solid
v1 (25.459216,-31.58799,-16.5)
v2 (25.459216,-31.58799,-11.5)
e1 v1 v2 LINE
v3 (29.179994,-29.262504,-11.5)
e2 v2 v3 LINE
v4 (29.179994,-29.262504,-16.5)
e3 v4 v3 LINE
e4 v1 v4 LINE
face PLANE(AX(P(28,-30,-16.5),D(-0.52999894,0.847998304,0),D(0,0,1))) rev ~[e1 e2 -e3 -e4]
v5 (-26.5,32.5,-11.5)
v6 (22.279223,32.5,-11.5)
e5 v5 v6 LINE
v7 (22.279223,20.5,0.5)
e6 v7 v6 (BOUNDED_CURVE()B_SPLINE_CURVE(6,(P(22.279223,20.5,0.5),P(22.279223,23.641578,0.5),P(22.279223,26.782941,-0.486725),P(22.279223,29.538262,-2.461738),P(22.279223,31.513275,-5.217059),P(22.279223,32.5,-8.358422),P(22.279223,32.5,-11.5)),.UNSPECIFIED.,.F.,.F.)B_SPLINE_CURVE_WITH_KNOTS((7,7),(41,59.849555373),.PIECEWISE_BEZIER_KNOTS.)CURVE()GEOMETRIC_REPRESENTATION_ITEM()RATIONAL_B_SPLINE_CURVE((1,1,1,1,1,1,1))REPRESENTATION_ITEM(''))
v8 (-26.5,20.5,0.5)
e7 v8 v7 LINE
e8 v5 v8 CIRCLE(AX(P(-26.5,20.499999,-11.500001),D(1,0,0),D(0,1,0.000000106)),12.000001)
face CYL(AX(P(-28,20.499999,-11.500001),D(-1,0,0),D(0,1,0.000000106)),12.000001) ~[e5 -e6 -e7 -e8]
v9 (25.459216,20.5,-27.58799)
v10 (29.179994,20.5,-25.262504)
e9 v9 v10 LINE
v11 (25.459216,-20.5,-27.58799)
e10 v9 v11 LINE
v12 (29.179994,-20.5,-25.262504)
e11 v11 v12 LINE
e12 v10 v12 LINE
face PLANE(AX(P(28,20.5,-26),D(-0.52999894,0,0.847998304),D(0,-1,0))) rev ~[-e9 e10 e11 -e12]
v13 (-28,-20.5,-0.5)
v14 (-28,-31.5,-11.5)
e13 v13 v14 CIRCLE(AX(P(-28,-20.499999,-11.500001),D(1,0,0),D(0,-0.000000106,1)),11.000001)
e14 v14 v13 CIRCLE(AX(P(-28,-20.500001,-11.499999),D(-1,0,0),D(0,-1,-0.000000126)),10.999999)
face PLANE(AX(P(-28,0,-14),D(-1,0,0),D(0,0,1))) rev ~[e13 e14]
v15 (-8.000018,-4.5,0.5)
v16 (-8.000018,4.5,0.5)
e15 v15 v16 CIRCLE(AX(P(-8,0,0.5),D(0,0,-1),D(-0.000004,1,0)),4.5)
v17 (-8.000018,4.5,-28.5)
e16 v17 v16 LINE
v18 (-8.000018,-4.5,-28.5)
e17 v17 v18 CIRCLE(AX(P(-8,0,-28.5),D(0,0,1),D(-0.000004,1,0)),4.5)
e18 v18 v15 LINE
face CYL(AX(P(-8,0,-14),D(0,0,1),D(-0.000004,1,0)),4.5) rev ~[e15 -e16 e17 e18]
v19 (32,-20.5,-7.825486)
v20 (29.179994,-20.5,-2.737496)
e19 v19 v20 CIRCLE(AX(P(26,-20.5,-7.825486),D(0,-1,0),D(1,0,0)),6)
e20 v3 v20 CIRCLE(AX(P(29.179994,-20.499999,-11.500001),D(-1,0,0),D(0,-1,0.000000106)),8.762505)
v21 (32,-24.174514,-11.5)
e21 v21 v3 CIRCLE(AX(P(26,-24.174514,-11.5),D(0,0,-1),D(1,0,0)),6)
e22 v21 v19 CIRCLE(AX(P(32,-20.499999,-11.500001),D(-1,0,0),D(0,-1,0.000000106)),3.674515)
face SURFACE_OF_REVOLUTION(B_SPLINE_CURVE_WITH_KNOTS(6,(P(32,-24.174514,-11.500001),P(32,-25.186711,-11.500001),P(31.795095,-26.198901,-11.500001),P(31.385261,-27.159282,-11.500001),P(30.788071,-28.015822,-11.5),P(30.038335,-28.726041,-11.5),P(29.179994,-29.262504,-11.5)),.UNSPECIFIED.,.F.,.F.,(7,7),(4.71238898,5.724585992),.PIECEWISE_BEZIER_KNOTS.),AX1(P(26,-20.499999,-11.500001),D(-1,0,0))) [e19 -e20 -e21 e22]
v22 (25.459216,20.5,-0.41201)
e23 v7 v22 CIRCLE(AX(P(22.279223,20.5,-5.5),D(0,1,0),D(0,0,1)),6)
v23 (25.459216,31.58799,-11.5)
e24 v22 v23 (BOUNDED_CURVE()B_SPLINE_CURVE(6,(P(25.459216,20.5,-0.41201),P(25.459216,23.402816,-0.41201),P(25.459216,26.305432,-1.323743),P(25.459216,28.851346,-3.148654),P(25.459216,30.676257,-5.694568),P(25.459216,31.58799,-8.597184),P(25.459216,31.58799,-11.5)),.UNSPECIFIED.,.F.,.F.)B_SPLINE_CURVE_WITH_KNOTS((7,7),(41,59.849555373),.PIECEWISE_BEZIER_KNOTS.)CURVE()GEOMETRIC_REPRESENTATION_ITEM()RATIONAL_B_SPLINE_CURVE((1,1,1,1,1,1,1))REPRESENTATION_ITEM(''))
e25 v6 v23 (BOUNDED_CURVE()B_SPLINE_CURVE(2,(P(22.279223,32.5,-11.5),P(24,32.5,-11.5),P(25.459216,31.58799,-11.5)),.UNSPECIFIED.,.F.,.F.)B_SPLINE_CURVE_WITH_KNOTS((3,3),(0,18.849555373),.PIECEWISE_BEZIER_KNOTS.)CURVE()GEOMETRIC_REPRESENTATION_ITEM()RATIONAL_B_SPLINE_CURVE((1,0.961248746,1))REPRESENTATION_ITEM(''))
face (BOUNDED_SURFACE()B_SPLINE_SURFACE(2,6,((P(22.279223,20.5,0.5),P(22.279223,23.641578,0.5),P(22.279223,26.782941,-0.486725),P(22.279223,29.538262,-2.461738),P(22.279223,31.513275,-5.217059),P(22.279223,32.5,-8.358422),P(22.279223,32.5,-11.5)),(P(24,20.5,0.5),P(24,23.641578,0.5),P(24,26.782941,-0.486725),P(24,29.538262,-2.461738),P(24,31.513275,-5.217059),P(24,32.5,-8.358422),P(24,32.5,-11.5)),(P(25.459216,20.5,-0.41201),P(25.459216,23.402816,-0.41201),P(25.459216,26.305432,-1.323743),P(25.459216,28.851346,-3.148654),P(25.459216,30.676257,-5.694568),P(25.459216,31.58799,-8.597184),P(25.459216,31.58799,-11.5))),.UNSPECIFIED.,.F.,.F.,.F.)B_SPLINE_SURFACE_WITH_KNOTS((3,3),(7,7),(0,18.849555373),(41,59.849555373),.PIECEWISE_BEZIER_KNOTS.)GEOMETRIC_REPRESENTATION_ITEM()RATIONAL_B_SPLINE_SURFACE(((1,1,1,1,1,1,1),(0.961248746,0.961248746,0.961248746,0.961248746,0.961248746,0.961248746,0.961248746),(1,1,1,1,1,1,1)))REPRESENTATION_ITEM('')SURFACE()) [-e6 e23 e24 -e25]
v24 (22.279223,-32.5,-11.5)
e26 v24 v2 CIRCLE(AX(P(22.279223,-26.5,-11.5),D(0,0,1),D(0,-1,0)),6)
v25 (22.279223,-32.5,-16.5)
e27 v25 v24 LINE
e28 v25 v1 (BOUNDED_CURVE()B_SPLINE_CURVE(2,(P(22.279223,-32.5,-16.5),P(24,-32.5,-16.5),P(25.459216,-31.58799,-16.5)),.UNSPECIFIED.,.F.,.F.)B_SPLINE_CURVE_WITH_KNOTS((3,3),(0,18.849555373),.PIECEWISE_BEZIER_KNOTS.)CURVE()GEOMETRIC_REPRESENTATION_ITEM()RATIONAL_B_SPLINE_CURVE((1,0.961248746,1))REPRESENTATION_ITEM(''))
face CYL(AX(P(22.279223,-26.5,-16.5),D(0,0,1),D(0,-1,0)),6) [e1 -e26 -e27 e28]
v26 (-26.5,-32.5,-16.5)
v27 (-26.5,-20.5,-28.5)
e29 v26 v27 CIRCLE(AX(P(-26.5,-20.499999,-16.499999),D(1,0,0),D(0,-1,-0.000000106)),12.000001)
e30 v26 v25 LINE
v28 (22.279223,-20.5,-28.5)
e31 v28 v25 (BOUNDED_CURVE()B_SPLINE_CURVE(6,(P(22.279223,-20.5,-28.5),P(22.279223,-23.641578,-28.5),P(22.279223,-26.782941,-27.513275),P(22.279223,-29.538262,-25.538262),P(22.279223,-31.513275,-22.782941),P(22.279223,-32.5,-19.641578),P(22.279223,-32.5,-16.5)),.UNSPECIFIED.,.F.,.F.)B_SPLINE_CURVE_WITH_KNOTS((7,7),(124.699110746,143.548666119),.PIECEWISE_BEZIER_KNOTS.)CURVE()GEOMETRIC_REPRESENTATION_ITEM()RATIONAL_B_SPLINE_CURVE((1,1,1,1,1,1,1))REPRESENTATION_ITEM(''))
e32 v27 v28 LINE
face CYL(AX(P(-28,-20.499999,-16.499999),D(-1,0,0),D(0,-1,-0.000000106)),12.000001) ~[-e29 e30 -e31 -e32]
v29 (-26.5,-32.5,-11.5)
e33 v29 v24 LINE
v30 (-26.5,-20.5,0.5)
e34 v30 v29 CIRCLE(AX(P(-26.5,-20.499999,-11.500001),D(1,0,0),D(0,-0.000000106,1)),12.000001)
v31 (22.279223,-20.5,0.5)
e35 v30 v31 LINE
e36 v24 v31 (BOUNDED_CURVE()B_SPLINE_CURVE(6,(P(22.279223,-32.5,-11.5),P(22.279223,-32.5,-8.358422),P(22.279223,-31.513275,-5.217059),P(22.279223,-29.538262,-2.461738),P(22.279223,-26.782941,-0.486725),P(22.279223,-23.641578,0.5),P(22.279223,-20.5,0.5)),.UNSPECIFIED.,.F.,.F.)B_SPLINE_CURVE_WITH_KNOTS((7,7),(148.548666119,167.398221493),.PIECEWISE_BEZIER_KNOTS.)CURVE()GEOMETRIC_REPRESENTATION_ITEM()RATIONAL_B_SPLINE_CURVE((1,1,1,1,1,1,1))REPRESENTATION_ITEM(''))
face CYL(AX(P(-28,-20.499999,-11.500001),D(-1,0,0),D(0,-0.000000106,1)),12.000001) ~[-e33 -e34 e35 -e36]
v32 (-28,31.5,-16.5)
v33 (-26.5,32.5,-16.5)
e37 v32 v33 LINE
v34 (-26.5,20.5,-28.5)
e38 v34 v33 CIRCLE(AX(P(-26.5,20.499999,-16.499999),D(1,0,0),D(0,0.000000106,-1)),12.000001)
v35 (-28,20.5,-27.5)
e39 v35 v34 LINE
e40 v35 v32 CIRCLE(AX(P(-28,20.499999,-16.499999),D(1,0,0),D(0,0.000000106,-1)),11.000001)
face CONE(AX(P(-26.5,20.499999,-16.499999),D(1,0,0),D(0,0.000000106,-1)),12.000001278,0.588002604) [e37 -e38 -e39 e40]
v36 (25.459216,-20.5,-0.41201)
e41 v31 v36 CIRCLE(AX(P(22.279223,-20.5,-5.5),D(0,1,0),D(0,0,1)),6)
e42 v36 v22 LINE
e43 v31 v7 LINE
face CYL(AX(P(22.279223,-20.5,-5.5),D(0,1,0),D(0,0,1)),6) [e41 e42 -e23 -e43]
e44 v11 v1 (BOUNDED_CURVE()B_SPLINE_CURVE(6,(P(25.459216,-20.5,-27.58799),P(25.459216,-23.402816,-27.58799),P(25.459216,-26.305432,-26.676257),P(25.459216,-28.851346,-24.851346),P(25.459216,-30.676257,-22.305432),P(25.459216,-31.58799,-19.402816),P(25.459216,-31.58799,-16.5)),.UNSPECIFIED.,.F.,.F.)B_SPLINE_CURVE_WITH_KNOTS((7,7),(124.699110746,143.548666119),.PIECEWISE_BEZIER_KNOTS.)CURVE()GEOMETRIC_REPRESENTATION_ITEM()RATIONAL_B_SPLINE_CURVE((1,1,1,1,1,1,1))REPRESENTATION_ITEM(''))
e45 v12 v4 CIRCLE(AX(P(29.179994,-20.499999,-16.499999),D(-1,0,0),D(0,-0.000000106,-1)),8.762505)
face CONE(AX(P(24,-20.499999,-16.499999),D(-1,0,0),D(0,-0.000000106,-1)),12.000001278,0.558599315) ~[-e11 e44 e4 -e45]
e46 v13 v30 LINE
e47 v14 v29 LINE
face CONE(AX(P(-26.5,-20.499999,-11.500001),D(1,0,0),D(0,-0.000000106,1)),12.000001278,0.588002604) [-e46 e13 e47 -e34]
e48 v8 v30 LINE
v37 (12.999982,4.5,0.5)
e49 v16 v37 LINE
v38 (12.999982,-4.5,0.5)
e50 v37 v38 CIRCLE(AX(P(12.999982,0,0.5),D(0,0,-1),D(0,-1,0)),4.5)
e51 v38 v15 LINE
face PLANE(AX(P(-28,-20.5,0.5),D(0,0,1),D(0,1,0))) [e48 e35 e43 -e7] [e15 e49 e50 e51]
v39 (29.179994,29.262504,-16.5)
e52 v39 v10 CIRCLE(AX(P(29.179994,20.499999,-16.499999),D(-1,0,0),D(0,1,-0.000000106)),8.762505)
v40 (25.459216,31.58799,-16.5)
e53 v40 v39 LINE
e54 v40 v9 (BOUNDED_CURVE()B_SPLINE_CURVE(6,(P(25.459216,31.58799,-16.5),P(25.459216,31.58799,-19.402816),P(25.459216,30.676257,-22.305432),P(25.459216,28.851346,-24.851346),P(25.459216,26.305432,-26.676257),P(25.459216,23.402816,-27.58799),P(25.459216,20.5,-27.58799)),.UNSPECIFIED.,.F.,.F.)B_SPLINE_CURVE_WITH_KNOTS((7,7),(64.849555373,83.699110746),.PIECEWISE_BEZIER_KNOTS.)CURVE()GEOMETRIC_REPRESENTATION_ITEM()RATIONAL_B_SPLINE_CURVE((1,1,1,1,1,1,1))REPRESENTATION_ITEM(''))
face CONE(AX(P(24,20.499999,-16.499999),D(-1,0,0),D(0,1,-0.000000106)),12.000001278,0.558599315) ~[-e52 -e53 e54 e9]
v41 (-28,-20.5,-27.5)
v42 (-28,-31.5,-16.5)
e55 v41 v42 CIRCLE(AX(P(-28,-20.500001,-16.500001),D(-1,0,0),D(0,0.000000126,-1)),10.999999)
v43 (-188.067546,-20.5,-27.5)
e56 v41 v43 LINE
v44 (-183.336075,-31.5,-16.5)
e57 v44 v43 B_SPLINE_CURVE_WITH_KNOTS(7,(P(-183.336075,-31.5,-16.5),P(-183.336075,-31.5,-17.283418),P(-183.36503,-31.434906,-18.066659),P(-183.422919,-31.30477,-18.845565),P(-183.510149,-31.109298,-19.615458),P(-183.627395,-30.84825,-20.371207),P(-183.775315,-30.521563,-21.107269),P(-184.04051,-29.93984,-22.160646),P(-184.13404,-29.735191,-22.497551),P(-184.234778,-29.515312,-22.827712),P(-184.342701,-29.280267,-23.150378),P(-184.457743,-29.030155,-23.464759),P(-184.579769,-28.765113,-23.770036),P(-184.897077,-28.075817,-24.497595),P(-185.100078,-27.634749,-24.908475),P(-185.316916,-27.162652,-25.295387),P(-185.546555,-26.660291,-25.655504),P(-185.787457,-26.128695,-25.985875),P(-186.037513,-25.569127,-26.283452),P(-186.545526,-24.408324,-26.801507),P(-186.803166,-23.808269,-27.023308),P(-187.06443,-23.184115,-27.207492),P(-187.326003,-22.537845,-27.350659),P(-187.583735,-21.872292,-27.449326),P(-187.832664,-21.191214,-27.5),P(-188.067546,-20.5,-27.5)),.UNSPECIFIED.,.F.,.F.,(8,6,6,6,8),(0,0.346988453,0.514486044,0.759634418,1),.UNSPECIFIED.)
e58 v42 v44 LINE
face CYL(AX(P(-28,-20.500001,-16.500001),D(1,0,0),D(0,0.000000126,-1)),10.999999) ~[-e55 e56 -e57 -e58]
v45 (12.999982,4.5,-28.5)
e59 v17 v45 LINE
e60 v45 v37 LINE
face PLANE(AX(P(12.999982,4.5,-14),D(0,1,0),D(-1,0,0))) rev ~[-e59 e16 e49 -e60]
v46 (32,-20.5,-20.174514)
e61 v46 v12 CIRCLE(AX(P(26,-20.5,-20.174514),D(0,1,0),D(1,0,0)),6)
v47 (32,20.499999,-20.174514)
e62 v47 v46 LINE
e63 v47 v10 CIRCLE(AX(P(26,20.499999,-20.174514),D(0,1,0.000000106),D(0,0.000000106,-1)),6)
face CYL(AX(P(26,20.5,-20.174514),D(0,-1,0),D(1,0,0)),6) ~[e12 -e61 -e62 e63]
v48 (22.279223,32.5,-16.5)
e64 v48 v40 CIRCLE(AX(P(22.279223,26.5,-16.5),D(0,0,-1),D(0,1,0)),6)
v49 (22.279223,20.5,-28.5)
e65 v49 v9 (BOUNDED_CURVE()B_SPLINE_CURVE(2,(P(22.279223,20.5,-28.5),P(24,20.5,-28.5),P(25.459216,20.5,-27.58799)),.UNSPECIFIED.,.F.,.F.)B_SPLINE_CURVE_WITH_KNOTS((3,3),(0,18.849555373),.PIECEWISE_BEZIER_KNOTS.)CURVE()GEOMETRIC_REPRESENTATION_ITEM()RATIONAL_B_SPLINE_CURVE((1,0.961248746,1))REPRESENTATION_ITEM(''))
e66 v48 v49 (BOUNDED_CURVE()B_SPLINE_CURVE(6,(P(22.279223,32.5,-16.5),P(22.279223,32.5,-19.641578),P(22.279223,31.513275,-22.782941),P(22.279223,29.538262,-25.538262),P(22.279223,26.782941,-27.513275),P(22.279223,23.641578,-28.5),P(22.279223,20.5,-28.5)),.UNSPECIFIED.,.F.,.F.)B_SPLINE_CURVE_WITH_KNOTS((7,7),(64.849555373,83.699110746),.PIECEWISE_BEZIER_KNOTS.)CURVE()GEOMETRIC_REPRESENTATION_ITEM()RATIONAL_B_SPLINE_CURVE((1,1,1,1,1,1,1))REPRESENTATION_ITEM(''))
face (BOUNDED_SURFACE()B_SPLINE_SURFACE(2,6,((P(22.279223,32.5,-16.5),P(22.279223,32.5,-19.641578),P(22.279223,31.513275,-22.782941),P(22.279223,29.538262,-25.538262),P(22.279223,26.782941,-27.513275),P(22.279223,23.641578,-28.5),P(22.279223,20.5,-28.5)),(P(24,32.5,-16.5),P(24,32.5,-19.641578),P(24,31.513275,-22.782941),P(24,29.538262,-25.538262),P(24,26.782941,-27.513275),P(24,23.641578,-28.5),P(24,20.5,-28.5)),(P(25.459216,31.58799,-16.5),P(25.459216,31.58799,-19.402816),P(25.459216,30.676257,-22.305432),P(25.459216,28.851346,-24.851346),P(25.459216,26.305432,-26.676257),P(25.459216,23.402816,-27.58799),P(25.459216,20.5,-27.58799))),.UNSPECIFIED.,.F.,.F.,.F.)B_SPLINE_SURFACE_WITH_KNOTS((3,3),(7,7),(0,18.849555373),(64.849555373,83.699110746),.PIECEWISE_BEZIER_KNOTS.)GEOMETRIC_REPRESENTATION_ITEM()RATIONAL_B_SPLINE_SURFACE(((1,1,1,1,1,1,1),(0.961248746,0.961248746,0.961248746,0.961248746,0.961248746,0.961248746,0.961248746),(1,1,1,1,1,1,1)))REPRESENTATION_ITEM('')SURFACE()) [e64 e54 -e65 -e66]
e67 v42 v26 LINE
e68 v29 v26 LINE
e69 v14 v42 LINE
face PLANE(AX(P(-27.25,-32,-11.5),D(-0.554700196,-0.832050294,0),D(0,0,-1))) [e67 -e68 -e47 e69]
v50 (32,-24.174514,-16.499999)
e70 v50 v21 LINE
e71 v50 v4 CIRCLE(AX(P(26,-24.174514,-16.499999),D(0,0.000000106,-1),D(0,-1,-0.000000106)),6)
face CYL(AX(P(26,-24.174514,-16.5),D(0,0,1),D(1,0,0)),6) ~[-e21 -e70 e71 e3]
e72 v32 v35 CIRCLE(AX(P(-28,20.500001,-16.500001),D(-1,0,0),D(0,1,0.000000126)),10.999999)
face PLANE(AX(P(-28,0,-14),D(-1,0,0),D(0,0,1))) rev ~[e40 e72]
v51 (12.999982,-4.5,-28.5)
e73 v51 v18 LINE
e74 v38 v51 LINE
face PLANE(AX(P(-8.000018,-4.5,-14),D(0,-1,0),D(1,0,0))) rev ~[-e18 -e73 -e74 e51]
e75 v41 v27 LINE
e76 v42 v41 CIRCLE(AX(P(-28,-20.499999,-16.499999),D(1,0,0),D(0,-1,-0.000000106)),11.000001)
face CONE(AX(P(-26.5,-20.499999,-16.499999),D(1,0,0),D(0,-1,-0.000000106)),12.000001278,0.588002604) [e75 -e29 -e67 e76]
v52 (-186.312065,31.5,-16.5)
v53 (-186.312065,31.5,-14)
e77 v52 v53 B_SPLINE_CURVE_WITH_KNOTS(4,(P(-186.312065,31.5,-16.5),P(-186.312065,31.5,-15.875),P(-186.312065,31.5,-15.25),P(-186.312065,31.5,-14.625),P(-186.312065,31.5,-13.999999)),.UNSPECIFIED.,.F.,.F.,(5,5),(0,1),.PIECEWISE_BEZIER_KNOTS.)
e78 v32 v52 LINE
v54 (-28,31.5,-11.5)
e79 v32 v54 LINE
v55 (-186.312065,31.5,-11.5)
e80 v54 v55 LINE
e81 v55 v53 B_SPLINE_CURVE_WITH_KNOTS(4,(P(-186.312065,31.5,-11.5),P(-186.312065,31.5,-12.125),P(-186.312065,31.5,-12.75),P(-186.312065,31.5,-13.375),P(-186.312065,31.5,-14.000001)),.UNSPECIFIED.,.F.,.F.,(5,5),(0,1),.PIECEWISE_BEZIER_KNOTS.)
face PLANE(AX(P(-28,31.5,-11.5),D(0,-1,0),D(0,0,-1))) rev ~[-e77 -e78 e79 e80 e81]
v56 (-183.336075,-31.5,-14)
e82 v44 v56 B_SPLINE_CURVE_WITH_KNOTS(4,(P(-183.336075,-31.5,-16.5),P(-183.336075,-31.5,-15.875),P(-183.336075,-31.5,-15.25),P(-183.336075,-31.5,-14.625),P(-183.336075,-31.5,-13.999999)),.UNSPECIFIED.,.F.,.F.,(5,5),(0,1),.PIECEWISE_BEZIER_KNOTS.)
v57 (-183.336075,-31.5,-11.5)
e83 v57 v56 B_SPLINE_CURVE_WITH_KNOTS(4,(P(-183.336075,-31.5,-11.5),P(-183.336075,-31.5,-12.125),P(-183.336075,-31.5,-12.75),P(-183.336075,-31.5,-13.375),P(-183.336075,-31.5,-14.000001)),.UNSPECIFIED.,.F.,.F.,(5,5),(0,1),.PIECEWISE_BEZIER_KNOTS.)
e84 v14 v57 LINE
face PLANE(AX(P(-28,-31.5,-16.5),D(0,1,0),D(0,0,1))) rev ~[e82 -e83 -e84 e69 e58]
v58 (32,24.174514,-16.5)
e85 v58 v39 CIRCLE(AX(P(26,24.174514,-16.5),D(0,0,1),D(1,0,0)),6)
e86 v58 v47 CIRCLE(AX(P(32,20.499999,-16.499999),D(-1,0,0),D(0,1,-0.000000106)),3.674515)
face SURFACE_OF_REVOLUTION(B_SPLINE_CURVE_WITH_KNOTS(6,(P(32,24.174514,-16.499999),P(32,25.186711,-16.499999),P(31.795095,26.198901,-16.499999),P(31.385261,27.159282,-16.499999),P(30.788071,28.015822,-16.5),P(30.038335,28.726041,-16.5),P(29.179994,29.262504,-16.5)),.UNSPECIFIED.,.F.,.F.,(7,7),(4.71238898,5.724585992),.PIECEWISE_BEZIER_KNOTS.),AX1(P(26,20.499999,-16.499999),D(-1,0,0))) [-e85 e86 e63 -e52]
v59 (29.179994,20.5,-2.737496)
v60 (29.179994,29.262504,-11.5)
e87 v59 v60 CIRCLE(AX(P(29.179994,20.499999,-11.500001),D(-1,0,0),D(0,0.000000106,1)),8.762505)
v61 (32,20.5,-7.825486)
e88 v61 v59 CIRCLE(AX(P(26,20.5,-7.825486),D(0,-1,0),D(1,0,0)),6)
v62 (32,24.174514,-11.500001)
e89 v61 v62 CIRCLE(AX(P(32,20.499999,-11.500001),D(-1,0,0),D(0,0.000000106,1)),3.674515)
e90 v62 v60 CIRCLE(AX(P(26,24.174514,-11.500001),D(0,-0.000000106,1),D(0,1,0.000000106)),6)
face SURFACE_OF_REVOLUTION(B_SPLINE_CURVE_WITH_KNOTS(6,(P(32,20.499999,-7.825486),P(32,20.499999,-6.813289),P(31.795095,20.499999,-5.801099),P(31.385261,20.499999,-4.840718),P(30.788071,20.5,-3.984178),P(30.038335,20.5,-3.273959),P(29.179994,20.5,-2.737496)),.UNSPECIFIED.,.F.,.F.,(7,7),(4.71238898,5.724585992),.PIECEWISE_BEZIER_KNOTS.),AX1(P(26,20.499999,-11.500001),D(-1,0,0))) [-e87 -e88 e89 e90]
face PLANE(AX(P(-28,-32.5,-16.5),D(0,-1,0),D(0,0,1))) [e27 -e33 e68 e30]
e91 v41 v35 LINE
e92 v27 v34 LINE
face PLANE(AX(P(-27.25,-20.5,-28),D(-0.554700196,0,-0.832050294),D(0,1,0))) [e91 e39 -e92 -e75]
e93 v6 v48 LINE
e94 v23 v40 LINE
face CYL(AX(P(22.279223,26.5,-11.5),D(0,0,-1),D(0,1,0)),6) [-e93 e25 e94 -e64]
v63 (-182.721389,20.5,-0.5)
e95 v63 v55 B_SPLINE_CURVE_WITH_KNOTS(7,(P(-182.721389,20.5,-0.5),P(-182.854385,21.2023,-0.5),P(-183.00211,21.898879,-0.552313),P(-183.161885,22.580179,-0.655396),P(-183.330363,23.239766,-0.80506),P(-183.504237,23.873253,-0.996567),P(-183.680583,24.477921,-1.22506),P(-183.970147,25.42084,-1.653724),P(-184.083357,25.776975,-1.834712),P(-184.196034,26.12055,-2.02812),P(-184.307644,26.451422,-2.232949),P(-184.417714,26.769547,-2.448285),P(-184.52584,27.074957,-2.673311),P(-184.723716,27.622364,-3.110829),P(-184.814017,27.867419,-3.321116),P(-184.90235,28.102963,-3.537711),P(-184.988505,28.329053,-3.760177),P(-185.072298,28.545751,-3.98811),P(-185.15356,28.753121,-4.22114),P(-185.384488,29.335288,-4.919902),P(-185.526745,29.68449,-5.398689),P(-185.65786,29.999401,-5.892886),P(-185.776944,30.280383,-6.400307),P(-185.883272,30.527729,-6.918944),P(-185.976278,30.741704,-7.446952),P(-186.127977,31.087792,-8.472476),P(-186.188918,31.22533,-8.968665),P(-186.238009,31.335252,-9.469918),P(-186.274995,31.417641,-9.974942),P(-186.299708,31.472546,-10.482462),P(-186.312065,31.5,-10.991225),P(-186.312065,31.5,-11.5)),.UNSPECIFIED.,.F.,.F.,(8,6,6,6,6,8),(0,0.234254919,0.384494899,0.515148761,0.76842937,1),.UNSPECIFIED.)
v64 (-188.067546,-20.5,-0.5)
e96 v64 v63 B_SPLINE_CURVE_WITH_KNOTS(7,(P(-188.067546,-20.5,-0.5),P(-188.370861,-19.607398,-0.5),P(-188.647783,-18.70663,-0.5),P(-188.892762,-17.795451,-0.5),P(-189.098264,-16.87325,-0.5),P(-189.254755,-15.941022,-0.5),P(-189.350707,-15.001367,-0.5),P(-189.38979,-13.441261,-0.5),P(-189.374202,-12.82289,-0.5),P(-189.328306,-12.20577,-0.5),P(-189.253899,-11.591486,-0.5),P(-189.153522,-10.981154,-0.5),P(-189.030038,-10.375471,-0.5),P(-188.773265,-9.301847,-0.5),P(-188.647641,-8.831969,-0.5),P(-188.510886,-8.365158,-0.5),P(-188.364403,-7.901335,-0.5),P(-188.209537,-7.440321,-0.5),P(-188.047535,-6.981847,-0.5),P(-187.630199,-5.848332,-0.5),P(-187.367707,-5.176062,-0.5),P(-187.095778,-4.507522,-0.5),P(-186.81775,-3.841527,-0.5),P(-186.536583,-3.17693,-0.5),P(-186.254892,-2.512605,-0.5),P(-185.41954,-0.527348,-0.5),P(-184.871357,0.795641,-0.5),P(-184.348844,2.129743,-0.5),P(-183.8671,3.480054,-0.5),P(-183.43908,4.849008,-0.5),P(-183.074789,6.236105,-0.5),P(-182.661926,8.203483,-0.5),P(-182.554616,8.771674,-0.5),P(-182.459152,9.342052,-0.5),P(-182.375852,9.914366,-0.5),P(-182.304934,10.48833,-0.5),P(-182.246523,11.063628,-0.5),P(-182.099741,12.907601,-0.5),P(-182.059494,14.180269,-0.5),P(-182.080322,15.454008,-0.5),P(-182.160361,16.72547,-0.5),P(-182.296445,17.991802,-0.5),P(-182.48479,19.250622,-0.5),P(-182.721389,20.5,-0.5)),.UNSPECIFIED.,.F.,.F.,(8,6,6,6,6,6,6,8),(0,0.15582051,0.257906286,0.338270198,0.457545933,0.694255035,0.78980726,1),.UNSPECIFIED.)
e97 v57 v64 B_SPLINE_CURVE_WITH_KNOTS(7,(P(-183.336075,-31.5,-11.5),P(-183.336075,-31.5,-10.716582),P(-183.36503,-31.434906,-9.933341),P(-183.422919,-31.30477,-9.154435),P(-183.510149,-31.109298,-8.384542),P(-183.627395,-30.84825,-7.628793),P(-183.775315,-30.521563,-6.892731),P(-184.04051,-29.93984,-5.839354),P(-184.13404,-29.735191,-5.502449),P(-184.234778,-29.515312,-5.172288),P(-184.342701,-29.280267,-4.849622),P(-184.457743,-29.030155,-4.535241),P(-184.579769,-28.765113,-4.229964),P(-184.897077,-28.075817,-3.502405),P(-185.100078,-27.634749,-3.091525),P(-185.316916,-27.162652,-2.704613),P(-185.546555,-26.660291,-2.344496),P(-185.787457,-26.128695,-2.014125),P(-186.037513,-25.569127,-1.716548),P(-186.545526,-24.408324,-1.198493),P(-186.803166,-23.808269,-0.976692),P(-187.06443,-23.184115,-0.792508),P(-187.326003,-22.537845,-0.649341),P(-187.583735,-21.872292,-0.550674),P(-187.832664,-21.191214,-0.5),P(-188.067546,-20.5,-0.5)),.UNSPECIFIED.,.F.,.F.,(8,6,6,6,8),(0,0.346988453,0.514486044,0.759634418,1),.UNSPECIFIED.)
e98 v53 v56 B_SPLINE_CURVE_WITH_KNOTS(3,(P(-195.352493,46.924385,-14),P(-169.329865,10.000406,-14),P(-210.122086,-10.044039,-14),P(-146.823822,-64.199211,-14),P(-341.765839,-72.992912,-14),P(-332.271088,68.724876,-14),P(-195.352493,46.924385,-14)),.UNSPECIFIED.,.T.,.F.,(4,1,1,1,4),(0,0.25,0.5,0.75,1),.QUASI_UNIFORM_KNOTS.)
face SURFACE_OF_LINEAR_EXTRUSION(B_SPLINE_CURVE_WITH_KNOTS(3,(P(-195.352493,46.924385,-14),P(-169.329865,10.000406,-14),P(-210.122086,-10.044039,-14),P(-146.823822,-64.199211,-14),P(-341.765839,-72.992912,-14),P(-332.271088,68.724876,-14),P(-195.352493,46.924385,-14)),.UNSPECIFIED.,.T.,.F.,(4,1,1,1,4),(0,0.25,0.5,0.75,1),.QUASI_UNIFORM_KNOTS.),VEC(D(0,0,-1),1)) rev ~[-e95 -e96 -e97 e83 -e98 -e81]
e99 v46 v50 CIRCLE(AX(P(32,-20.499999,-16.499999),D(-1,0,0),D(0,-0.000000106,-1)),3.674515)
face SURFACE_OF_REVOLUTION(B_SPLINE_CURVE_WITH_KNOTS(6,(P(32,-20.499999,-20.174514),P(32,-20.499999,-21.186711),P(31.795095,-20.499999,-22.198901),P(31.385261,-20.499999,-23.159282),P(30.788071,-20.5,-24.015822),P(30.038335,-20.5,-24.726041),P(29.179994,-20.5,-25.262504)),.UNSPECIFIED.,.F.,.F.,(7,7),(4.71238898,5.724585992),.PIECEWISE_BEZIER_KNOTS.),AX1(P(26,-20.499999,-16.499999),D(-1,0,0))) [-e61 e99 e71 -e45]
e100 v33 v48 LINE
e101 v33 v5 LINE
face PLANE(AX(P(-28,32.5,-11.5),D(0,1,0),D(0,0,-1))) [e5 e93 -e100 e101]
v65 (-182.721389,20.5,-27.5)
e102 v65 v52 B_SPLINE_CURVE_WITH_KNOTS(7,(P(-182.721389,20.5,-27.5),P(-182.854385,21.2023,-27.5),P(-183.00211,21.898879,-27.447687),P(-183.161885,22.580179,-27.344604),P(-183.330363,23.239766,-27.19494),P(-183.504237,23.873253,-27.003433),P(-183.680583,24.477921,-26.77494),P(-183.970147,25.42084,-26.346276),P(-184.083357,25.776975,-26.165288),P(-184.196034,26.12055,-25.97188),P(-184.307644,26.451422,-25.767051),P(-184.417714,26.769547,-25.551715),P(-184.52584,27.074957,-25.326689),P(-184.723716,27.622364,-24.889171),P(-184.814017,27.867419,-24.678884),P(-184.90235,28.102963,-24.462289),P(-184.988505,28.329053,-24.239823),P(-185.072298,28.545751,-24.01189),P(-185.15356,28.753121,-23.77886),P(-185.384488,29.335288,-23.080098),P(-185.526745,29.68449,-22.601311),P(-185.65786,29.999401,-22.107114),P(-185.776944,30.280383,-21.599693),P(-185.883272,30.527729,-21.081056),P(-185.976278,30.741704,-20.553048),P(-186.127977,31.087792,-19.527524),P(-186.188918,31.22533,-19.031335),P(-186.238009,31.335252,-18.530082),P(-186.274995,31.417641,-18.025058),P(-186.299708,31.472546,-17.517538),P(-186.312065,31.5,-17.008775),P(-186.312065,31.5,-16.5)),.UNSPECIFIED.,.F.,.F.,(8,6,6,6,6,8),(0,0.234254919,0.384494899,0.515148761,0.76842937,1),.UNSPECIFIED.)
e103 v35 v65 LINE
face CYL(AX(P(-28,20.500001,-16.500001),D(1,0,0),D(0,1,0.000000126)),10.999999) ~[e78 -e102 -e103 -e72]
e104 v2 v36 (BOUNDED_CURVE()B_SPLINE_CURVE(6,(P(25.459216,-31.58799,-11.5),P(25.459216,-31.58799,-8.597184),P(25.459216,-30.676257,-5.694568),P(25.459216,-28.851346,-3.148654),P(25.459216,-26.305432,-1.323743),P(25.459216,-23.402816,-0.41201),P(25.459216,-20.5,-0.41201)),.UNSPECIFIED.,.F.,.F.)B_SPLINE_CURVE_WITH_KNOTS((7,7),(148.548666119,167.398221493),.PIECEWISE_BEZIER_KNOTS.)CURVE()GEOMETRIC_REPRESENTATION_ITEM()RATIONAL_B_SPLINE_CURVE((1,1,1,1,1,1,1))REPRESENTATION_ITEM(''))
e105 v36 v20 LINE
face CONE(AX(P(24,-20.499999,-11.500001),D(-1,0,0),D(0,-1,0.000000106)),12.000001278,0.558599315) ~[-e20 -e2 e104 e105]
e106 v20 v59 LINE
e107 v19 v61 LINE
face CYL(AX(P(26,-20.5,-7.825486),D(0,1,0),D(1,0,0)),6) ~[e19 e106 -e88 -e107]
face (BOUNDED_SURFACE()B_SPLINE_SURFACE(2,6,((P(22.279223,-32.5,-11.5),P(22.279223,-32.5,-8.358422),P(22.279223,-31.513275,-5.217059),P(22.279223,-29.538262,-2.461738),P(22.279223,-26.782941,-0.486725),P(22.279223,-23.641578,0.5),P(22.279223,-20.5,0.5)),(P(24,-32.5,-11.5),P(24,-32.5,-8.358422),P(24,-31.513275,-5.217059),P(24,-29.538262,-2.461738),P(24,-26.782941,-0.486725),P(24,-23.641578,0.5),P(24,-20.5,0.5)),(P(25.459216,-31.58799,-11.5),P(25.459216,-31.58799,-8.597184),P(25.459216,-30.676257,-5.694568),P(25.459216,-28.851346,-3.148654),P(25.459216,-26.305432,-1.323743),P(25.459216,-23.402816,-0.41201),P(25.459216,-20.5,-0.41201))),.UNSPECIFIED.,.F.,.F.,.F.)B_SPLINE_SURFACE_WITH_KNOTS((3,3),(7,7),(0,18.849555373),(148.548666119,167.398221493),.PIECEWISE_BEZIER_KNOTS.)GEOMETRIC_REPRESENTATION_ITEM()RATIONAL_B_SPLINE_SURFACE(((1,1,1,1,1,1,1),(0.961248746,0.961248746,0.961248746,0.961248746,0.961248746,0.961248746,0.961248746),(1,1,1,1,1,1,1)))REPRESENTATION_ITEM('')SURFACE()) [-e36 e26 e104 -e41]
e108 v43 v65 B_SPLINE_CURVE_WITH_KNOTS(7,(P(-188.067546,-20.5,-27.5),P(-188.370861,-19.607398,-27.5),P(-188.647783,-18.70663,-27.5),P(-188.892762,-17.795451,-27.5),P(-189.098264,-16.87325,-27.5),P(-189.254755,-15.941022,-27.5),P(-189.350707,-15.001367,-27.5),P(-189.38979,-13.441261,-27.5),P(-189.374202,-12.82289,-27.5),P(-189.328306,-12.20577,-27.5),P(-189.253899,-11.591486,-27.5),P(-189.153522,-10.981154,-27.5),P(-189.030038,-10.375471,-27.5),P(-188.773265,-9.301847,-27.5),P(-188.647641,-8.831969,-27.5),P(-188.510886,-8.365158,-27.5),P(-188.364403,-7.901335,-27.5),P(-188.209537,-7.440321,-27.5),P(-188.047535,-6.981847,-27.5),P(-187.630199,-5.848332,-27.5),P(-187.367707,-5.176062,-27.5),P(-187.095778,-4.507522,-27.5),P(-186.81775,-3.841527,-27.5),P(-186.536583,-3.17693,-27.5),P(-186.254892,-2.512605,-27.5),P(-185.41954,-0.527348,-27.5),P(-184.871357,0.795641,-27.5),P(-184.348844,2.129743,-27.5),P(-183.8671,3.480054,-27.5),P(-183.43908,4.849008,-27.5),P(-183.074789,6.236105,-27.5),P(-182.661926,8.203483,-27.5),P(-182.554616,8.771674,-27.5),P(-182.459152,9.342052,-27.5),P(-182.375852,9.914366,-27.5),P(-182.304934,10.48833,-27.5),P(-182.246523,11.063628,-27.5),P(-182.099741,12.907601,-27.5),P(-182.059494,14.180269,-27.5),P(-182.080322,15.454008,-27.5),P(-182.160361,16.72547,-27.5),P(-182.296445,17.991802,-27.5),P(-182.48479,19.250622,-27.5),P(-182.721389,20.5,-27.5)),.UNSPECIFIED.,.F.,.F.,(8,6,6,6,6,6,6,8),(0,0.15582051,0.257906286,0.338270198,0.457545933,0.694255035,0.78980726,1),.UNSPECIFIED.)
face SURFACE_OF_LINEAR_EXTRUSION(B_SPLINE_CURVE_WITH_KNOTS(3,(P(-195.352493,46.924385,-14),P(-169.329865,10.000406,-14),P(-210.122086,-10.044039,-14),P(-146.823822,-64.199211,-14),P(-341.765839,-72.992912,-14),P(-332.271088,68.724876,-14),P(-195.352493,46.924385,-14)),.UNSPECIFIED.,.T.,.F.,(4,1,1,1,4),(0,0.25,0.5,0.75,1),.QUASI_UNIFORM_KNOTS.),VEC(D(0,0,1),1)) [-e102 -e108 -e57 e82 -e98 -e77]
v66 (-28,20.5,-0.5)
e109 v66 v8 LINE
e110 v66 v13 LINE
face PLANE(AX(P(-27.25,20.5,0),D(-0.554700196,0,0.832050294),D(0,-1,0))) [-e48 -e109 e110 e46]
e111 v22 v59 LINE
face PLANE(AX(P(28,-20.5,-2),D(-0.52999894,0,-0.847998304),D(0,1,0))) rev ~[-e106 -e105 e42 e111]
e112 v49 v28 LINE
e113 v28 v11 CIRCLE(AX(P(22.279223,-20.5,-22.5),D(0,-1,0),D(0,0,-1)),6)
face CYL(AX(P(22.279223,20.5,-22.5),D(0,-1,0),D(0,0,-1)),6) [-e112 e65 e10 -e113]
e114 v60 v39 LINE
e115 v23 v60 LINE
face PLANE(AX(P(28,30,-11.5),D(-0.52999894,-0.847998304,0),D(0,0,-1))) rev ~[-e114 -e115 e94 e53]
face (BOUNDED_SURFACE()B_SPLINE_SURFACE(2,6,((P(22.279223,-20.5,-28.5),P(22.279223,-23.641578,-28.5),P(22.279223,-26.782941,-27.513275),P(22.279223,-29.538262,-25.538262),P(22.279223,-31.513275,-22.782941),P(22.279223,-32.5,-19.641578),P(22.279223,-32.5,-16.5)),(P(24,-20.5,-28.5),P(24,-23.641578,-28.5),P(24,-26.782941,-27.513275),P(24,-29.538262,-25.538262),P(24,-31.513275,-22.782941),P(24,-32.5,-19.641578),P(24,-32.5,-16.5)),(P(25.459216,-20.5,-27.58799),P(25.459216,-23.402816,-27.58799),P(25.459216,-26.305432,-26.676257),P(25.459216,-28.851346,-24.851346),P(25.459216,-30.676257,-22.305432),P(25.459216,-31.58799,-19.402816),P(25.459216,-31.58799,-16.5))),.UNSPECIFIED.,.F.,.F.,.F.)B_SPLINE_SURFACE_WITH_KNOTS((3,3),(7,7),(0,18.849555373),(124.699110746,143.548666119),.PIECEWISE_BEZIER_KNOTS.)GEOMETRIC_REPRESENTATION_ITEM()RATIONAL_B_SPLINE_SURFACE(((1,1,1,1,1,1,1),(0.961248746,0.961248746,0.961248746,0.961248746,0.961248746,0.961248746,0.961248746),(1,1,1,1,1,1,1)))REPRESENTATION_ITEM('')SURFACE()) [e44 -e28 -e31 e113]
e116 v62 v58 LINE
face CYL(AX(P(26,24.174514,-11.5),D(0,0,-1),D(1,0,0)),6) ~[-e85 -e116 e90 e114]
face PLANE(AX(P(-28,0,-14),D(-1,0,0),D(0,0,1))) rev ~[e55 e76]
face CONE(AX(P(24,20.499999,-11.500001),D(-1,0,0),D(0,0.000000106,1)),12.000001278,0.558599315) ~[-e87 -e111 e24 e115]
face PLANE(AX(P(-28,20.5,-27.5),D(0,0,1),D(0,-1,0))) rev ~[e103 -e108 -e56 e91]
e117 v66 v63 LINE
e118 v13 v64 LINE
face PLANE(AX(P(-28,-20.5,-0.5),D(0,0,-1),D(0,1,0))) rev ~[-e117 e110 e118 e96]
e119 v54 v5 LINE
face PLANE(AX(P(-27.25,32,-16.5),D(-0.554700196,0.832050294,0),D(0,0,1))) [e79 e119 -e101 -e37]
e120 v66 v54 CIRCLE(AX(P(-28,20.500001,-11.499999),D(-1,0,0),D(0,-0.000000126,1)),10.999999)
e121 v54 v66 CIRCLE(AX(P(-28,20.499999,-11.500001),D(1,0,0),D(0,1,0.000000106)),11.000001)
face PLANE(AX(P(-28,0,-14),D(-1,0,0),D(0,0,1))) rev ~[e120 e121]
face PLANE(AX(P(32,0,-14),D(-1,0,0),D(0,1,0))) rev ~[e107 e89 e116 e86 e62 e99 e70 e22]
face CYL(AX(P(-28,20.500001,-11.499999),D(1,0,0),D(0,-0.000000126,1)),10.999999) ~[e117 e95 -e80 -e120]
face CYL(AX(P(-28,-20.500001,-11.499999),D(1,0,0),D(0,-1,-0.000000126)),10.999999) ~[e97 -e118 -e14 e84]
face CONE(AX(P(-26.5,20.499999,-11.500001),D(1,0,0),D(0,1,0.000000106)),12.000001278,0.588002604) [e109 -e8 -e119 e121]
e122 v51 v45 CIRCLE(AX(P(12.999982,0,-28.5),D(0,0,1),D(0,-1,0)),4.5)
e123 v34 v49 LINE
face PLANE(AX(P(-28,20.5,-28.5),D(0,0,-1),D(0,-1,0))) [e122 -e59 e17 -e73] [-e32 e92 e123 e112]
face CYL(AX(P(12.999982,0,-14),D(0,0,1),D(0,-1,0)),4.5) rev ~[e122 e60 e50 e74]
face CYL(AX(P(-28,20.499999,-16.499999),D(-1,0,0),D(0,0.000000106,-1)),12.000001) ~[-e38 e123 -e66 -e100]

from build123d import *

# Parameters (mm, degrees)
PAD009_DEPTH            = 60
CHAMFER_SIZE2           = 5
CHAMFER_SIZE            = 8
FILLET005_R             = 6
CHAMFER001_SIZE2        = 1.5
CHAMFER001_SIZE         = 1
PAD010_DEPTH            = 250
POCKET006_DEPTH         = 14.501
POCKET006_DEPTH_BACK    = 14.501
BODY007_ROLL_ANGLE      = -90
BODY007_PLACEMENT_ANGLE = -90


with BuildPart() as part:
    # Sketch016 → Pad009 (new body)
    with BuildSketch(Plane.XY):
        with BuildLine():
            Line((-20.5, 14.5), (20.5, 14.5))
            ThreePointArc((32.5, 2.5), (28.985281, 10.985281), (20.5, 14.5))
            Line((32.5, 2.5), (32.5, -2.5))
            ThreePointArc((20.5, -14.5), (28.985281, -10.985281), (32.5, -2.5))
            Line((20.5, -14.5), (-20.5, -14.5))
            ThreePointArc((-32.5, -2.5), (-28.985281, -10.985281), (-20.5, -14.5))
            Line((-32.5, -2.5), (-32.5, 2.5))
            ThreePointArc((-20.5, 14.5), (-28.985281, 10.985281), (-32.5, 2.5))
        make_face()
    extrude(amount=PAD009_DEPTH)

    # Chamfer
    chamfer_edges = [part.edges().sort_by_distance(p)[0] for p in [
        (0, -14.5, 60),
    ]]
    chamfer_side = part.faces().sort_by_distance((0, -14.5, 30))[0]
    chamfer(chamfer_edges, length=CHAMFER_SIZE, length2=CHAMFER_SIZE2, reference=chamfer_side)

    # Fillet005
    fillet005_edges = [part.edges().sort_by_distance(p)[0] for p in [
        (0, -14.5, 52),
        (0, -9.5, 60),
    ]]
    fillet(fillet005_edges, radius=FILLET005_R)

    # Chamfer001
    chamfer001_edges = [part.edges().sort_by_distance(p)[0] for p in [
        (28.985281, 10.985281, 0),
    ]]
    chamfer001_side = part.faces().sort_by_distance((0, 0, 0))[0]
    chamfer(chamfer001_edges, length=CHAMFER001_SIZE, length2=CHAMFER001_SIZE2, reference=chamfer001_side)

    # Chamfer001 Face10 → Pad010 (add)
    with BuildSketch(Plane(origin=(0, 0, 0), x_dir=(0, -1, 0), z_dir=(0, 0, -1))):
        with BuildLine():
            ThreePointArc((-13.5, -20.5), (-10.278175, -28.278175), (-2.5, -31.5))
            Line((-2.5, -31.5), (2.5, -31.5))
            ThreePointArc((2.5, -31.5), (10.278175, -28.278175), (13.5, -20.5))
            Line((13.5, -20.5), (13.5, 20.5))
            ThreePointArc((13.5, 20.5), (10.278175, 28.278175), (2.5, 31.5))
            Line((2.5, 31.5), (-2.5, 31.5))
            ThreePointArc((-2.5, 31.5), (-10.278175, 28.278175), (-13.5, 20.5))
            Line((-13.5, 20.5), (-13.5, -20.5))
        make_face()
    extrude(amount=PAD010_DEPTH)

    # Sketch017 → Pocket006 (cut, two sides)
    with BuildSketch(Plane.XZ) as pocket006_sk:
        with BuildLine():
            add(Edge.make_bspline(
                [(-46.924385, -167.352493), (-10.000406, -141.329865), (10.044039, -182.122086), (64.199211, -118.823822), (72.992912, -313.765839), (-68.724876, -304.271088), (-46.924385, -167.352493)],
                knots=[0, 0, 0, 0, 0.25, 0.5, 0.75, 1, 1, 1, 1], degree=3))
        make_face()
        with BuildLine():
            ThreePointArc((4.5, 40.999982), (0, 45.499982), (-4.5, 40.999982))
            Line((-4.5, 40.999982), (-4.5, 19.999982))
            ThreePointArc((-4.5, 19.999982), (0, 15.5), (4.5, 19.999982))
            Line((4.5, 19.999982), (4.5, 40.999982))
        make_face()
    extrude(amount=-POCKET006_DEPTH, mode=Mode.SUBTRACT)
    extrude(pocket006_sk.sketch, amount=POCKET006_DEPTH_BACK, mode=Mode.SUBTRACT)


with BuildPart() as part_1:
    # Body007 roll: moved
    add(part.part.rotate(Axis((0, 0, 0), (1, 0, 0)), BODY007_ROLL_ANGLE))


with BuildPart() as part_2:
    # Body007 placement: moved
    add(part_1.part.moved(Location((-28, 0, -14))).rotate(Axis((-28, 0, -14), (0, 0, 1)), BODY007_PLACEMENT_ANGLE))


solid = part_2.part
